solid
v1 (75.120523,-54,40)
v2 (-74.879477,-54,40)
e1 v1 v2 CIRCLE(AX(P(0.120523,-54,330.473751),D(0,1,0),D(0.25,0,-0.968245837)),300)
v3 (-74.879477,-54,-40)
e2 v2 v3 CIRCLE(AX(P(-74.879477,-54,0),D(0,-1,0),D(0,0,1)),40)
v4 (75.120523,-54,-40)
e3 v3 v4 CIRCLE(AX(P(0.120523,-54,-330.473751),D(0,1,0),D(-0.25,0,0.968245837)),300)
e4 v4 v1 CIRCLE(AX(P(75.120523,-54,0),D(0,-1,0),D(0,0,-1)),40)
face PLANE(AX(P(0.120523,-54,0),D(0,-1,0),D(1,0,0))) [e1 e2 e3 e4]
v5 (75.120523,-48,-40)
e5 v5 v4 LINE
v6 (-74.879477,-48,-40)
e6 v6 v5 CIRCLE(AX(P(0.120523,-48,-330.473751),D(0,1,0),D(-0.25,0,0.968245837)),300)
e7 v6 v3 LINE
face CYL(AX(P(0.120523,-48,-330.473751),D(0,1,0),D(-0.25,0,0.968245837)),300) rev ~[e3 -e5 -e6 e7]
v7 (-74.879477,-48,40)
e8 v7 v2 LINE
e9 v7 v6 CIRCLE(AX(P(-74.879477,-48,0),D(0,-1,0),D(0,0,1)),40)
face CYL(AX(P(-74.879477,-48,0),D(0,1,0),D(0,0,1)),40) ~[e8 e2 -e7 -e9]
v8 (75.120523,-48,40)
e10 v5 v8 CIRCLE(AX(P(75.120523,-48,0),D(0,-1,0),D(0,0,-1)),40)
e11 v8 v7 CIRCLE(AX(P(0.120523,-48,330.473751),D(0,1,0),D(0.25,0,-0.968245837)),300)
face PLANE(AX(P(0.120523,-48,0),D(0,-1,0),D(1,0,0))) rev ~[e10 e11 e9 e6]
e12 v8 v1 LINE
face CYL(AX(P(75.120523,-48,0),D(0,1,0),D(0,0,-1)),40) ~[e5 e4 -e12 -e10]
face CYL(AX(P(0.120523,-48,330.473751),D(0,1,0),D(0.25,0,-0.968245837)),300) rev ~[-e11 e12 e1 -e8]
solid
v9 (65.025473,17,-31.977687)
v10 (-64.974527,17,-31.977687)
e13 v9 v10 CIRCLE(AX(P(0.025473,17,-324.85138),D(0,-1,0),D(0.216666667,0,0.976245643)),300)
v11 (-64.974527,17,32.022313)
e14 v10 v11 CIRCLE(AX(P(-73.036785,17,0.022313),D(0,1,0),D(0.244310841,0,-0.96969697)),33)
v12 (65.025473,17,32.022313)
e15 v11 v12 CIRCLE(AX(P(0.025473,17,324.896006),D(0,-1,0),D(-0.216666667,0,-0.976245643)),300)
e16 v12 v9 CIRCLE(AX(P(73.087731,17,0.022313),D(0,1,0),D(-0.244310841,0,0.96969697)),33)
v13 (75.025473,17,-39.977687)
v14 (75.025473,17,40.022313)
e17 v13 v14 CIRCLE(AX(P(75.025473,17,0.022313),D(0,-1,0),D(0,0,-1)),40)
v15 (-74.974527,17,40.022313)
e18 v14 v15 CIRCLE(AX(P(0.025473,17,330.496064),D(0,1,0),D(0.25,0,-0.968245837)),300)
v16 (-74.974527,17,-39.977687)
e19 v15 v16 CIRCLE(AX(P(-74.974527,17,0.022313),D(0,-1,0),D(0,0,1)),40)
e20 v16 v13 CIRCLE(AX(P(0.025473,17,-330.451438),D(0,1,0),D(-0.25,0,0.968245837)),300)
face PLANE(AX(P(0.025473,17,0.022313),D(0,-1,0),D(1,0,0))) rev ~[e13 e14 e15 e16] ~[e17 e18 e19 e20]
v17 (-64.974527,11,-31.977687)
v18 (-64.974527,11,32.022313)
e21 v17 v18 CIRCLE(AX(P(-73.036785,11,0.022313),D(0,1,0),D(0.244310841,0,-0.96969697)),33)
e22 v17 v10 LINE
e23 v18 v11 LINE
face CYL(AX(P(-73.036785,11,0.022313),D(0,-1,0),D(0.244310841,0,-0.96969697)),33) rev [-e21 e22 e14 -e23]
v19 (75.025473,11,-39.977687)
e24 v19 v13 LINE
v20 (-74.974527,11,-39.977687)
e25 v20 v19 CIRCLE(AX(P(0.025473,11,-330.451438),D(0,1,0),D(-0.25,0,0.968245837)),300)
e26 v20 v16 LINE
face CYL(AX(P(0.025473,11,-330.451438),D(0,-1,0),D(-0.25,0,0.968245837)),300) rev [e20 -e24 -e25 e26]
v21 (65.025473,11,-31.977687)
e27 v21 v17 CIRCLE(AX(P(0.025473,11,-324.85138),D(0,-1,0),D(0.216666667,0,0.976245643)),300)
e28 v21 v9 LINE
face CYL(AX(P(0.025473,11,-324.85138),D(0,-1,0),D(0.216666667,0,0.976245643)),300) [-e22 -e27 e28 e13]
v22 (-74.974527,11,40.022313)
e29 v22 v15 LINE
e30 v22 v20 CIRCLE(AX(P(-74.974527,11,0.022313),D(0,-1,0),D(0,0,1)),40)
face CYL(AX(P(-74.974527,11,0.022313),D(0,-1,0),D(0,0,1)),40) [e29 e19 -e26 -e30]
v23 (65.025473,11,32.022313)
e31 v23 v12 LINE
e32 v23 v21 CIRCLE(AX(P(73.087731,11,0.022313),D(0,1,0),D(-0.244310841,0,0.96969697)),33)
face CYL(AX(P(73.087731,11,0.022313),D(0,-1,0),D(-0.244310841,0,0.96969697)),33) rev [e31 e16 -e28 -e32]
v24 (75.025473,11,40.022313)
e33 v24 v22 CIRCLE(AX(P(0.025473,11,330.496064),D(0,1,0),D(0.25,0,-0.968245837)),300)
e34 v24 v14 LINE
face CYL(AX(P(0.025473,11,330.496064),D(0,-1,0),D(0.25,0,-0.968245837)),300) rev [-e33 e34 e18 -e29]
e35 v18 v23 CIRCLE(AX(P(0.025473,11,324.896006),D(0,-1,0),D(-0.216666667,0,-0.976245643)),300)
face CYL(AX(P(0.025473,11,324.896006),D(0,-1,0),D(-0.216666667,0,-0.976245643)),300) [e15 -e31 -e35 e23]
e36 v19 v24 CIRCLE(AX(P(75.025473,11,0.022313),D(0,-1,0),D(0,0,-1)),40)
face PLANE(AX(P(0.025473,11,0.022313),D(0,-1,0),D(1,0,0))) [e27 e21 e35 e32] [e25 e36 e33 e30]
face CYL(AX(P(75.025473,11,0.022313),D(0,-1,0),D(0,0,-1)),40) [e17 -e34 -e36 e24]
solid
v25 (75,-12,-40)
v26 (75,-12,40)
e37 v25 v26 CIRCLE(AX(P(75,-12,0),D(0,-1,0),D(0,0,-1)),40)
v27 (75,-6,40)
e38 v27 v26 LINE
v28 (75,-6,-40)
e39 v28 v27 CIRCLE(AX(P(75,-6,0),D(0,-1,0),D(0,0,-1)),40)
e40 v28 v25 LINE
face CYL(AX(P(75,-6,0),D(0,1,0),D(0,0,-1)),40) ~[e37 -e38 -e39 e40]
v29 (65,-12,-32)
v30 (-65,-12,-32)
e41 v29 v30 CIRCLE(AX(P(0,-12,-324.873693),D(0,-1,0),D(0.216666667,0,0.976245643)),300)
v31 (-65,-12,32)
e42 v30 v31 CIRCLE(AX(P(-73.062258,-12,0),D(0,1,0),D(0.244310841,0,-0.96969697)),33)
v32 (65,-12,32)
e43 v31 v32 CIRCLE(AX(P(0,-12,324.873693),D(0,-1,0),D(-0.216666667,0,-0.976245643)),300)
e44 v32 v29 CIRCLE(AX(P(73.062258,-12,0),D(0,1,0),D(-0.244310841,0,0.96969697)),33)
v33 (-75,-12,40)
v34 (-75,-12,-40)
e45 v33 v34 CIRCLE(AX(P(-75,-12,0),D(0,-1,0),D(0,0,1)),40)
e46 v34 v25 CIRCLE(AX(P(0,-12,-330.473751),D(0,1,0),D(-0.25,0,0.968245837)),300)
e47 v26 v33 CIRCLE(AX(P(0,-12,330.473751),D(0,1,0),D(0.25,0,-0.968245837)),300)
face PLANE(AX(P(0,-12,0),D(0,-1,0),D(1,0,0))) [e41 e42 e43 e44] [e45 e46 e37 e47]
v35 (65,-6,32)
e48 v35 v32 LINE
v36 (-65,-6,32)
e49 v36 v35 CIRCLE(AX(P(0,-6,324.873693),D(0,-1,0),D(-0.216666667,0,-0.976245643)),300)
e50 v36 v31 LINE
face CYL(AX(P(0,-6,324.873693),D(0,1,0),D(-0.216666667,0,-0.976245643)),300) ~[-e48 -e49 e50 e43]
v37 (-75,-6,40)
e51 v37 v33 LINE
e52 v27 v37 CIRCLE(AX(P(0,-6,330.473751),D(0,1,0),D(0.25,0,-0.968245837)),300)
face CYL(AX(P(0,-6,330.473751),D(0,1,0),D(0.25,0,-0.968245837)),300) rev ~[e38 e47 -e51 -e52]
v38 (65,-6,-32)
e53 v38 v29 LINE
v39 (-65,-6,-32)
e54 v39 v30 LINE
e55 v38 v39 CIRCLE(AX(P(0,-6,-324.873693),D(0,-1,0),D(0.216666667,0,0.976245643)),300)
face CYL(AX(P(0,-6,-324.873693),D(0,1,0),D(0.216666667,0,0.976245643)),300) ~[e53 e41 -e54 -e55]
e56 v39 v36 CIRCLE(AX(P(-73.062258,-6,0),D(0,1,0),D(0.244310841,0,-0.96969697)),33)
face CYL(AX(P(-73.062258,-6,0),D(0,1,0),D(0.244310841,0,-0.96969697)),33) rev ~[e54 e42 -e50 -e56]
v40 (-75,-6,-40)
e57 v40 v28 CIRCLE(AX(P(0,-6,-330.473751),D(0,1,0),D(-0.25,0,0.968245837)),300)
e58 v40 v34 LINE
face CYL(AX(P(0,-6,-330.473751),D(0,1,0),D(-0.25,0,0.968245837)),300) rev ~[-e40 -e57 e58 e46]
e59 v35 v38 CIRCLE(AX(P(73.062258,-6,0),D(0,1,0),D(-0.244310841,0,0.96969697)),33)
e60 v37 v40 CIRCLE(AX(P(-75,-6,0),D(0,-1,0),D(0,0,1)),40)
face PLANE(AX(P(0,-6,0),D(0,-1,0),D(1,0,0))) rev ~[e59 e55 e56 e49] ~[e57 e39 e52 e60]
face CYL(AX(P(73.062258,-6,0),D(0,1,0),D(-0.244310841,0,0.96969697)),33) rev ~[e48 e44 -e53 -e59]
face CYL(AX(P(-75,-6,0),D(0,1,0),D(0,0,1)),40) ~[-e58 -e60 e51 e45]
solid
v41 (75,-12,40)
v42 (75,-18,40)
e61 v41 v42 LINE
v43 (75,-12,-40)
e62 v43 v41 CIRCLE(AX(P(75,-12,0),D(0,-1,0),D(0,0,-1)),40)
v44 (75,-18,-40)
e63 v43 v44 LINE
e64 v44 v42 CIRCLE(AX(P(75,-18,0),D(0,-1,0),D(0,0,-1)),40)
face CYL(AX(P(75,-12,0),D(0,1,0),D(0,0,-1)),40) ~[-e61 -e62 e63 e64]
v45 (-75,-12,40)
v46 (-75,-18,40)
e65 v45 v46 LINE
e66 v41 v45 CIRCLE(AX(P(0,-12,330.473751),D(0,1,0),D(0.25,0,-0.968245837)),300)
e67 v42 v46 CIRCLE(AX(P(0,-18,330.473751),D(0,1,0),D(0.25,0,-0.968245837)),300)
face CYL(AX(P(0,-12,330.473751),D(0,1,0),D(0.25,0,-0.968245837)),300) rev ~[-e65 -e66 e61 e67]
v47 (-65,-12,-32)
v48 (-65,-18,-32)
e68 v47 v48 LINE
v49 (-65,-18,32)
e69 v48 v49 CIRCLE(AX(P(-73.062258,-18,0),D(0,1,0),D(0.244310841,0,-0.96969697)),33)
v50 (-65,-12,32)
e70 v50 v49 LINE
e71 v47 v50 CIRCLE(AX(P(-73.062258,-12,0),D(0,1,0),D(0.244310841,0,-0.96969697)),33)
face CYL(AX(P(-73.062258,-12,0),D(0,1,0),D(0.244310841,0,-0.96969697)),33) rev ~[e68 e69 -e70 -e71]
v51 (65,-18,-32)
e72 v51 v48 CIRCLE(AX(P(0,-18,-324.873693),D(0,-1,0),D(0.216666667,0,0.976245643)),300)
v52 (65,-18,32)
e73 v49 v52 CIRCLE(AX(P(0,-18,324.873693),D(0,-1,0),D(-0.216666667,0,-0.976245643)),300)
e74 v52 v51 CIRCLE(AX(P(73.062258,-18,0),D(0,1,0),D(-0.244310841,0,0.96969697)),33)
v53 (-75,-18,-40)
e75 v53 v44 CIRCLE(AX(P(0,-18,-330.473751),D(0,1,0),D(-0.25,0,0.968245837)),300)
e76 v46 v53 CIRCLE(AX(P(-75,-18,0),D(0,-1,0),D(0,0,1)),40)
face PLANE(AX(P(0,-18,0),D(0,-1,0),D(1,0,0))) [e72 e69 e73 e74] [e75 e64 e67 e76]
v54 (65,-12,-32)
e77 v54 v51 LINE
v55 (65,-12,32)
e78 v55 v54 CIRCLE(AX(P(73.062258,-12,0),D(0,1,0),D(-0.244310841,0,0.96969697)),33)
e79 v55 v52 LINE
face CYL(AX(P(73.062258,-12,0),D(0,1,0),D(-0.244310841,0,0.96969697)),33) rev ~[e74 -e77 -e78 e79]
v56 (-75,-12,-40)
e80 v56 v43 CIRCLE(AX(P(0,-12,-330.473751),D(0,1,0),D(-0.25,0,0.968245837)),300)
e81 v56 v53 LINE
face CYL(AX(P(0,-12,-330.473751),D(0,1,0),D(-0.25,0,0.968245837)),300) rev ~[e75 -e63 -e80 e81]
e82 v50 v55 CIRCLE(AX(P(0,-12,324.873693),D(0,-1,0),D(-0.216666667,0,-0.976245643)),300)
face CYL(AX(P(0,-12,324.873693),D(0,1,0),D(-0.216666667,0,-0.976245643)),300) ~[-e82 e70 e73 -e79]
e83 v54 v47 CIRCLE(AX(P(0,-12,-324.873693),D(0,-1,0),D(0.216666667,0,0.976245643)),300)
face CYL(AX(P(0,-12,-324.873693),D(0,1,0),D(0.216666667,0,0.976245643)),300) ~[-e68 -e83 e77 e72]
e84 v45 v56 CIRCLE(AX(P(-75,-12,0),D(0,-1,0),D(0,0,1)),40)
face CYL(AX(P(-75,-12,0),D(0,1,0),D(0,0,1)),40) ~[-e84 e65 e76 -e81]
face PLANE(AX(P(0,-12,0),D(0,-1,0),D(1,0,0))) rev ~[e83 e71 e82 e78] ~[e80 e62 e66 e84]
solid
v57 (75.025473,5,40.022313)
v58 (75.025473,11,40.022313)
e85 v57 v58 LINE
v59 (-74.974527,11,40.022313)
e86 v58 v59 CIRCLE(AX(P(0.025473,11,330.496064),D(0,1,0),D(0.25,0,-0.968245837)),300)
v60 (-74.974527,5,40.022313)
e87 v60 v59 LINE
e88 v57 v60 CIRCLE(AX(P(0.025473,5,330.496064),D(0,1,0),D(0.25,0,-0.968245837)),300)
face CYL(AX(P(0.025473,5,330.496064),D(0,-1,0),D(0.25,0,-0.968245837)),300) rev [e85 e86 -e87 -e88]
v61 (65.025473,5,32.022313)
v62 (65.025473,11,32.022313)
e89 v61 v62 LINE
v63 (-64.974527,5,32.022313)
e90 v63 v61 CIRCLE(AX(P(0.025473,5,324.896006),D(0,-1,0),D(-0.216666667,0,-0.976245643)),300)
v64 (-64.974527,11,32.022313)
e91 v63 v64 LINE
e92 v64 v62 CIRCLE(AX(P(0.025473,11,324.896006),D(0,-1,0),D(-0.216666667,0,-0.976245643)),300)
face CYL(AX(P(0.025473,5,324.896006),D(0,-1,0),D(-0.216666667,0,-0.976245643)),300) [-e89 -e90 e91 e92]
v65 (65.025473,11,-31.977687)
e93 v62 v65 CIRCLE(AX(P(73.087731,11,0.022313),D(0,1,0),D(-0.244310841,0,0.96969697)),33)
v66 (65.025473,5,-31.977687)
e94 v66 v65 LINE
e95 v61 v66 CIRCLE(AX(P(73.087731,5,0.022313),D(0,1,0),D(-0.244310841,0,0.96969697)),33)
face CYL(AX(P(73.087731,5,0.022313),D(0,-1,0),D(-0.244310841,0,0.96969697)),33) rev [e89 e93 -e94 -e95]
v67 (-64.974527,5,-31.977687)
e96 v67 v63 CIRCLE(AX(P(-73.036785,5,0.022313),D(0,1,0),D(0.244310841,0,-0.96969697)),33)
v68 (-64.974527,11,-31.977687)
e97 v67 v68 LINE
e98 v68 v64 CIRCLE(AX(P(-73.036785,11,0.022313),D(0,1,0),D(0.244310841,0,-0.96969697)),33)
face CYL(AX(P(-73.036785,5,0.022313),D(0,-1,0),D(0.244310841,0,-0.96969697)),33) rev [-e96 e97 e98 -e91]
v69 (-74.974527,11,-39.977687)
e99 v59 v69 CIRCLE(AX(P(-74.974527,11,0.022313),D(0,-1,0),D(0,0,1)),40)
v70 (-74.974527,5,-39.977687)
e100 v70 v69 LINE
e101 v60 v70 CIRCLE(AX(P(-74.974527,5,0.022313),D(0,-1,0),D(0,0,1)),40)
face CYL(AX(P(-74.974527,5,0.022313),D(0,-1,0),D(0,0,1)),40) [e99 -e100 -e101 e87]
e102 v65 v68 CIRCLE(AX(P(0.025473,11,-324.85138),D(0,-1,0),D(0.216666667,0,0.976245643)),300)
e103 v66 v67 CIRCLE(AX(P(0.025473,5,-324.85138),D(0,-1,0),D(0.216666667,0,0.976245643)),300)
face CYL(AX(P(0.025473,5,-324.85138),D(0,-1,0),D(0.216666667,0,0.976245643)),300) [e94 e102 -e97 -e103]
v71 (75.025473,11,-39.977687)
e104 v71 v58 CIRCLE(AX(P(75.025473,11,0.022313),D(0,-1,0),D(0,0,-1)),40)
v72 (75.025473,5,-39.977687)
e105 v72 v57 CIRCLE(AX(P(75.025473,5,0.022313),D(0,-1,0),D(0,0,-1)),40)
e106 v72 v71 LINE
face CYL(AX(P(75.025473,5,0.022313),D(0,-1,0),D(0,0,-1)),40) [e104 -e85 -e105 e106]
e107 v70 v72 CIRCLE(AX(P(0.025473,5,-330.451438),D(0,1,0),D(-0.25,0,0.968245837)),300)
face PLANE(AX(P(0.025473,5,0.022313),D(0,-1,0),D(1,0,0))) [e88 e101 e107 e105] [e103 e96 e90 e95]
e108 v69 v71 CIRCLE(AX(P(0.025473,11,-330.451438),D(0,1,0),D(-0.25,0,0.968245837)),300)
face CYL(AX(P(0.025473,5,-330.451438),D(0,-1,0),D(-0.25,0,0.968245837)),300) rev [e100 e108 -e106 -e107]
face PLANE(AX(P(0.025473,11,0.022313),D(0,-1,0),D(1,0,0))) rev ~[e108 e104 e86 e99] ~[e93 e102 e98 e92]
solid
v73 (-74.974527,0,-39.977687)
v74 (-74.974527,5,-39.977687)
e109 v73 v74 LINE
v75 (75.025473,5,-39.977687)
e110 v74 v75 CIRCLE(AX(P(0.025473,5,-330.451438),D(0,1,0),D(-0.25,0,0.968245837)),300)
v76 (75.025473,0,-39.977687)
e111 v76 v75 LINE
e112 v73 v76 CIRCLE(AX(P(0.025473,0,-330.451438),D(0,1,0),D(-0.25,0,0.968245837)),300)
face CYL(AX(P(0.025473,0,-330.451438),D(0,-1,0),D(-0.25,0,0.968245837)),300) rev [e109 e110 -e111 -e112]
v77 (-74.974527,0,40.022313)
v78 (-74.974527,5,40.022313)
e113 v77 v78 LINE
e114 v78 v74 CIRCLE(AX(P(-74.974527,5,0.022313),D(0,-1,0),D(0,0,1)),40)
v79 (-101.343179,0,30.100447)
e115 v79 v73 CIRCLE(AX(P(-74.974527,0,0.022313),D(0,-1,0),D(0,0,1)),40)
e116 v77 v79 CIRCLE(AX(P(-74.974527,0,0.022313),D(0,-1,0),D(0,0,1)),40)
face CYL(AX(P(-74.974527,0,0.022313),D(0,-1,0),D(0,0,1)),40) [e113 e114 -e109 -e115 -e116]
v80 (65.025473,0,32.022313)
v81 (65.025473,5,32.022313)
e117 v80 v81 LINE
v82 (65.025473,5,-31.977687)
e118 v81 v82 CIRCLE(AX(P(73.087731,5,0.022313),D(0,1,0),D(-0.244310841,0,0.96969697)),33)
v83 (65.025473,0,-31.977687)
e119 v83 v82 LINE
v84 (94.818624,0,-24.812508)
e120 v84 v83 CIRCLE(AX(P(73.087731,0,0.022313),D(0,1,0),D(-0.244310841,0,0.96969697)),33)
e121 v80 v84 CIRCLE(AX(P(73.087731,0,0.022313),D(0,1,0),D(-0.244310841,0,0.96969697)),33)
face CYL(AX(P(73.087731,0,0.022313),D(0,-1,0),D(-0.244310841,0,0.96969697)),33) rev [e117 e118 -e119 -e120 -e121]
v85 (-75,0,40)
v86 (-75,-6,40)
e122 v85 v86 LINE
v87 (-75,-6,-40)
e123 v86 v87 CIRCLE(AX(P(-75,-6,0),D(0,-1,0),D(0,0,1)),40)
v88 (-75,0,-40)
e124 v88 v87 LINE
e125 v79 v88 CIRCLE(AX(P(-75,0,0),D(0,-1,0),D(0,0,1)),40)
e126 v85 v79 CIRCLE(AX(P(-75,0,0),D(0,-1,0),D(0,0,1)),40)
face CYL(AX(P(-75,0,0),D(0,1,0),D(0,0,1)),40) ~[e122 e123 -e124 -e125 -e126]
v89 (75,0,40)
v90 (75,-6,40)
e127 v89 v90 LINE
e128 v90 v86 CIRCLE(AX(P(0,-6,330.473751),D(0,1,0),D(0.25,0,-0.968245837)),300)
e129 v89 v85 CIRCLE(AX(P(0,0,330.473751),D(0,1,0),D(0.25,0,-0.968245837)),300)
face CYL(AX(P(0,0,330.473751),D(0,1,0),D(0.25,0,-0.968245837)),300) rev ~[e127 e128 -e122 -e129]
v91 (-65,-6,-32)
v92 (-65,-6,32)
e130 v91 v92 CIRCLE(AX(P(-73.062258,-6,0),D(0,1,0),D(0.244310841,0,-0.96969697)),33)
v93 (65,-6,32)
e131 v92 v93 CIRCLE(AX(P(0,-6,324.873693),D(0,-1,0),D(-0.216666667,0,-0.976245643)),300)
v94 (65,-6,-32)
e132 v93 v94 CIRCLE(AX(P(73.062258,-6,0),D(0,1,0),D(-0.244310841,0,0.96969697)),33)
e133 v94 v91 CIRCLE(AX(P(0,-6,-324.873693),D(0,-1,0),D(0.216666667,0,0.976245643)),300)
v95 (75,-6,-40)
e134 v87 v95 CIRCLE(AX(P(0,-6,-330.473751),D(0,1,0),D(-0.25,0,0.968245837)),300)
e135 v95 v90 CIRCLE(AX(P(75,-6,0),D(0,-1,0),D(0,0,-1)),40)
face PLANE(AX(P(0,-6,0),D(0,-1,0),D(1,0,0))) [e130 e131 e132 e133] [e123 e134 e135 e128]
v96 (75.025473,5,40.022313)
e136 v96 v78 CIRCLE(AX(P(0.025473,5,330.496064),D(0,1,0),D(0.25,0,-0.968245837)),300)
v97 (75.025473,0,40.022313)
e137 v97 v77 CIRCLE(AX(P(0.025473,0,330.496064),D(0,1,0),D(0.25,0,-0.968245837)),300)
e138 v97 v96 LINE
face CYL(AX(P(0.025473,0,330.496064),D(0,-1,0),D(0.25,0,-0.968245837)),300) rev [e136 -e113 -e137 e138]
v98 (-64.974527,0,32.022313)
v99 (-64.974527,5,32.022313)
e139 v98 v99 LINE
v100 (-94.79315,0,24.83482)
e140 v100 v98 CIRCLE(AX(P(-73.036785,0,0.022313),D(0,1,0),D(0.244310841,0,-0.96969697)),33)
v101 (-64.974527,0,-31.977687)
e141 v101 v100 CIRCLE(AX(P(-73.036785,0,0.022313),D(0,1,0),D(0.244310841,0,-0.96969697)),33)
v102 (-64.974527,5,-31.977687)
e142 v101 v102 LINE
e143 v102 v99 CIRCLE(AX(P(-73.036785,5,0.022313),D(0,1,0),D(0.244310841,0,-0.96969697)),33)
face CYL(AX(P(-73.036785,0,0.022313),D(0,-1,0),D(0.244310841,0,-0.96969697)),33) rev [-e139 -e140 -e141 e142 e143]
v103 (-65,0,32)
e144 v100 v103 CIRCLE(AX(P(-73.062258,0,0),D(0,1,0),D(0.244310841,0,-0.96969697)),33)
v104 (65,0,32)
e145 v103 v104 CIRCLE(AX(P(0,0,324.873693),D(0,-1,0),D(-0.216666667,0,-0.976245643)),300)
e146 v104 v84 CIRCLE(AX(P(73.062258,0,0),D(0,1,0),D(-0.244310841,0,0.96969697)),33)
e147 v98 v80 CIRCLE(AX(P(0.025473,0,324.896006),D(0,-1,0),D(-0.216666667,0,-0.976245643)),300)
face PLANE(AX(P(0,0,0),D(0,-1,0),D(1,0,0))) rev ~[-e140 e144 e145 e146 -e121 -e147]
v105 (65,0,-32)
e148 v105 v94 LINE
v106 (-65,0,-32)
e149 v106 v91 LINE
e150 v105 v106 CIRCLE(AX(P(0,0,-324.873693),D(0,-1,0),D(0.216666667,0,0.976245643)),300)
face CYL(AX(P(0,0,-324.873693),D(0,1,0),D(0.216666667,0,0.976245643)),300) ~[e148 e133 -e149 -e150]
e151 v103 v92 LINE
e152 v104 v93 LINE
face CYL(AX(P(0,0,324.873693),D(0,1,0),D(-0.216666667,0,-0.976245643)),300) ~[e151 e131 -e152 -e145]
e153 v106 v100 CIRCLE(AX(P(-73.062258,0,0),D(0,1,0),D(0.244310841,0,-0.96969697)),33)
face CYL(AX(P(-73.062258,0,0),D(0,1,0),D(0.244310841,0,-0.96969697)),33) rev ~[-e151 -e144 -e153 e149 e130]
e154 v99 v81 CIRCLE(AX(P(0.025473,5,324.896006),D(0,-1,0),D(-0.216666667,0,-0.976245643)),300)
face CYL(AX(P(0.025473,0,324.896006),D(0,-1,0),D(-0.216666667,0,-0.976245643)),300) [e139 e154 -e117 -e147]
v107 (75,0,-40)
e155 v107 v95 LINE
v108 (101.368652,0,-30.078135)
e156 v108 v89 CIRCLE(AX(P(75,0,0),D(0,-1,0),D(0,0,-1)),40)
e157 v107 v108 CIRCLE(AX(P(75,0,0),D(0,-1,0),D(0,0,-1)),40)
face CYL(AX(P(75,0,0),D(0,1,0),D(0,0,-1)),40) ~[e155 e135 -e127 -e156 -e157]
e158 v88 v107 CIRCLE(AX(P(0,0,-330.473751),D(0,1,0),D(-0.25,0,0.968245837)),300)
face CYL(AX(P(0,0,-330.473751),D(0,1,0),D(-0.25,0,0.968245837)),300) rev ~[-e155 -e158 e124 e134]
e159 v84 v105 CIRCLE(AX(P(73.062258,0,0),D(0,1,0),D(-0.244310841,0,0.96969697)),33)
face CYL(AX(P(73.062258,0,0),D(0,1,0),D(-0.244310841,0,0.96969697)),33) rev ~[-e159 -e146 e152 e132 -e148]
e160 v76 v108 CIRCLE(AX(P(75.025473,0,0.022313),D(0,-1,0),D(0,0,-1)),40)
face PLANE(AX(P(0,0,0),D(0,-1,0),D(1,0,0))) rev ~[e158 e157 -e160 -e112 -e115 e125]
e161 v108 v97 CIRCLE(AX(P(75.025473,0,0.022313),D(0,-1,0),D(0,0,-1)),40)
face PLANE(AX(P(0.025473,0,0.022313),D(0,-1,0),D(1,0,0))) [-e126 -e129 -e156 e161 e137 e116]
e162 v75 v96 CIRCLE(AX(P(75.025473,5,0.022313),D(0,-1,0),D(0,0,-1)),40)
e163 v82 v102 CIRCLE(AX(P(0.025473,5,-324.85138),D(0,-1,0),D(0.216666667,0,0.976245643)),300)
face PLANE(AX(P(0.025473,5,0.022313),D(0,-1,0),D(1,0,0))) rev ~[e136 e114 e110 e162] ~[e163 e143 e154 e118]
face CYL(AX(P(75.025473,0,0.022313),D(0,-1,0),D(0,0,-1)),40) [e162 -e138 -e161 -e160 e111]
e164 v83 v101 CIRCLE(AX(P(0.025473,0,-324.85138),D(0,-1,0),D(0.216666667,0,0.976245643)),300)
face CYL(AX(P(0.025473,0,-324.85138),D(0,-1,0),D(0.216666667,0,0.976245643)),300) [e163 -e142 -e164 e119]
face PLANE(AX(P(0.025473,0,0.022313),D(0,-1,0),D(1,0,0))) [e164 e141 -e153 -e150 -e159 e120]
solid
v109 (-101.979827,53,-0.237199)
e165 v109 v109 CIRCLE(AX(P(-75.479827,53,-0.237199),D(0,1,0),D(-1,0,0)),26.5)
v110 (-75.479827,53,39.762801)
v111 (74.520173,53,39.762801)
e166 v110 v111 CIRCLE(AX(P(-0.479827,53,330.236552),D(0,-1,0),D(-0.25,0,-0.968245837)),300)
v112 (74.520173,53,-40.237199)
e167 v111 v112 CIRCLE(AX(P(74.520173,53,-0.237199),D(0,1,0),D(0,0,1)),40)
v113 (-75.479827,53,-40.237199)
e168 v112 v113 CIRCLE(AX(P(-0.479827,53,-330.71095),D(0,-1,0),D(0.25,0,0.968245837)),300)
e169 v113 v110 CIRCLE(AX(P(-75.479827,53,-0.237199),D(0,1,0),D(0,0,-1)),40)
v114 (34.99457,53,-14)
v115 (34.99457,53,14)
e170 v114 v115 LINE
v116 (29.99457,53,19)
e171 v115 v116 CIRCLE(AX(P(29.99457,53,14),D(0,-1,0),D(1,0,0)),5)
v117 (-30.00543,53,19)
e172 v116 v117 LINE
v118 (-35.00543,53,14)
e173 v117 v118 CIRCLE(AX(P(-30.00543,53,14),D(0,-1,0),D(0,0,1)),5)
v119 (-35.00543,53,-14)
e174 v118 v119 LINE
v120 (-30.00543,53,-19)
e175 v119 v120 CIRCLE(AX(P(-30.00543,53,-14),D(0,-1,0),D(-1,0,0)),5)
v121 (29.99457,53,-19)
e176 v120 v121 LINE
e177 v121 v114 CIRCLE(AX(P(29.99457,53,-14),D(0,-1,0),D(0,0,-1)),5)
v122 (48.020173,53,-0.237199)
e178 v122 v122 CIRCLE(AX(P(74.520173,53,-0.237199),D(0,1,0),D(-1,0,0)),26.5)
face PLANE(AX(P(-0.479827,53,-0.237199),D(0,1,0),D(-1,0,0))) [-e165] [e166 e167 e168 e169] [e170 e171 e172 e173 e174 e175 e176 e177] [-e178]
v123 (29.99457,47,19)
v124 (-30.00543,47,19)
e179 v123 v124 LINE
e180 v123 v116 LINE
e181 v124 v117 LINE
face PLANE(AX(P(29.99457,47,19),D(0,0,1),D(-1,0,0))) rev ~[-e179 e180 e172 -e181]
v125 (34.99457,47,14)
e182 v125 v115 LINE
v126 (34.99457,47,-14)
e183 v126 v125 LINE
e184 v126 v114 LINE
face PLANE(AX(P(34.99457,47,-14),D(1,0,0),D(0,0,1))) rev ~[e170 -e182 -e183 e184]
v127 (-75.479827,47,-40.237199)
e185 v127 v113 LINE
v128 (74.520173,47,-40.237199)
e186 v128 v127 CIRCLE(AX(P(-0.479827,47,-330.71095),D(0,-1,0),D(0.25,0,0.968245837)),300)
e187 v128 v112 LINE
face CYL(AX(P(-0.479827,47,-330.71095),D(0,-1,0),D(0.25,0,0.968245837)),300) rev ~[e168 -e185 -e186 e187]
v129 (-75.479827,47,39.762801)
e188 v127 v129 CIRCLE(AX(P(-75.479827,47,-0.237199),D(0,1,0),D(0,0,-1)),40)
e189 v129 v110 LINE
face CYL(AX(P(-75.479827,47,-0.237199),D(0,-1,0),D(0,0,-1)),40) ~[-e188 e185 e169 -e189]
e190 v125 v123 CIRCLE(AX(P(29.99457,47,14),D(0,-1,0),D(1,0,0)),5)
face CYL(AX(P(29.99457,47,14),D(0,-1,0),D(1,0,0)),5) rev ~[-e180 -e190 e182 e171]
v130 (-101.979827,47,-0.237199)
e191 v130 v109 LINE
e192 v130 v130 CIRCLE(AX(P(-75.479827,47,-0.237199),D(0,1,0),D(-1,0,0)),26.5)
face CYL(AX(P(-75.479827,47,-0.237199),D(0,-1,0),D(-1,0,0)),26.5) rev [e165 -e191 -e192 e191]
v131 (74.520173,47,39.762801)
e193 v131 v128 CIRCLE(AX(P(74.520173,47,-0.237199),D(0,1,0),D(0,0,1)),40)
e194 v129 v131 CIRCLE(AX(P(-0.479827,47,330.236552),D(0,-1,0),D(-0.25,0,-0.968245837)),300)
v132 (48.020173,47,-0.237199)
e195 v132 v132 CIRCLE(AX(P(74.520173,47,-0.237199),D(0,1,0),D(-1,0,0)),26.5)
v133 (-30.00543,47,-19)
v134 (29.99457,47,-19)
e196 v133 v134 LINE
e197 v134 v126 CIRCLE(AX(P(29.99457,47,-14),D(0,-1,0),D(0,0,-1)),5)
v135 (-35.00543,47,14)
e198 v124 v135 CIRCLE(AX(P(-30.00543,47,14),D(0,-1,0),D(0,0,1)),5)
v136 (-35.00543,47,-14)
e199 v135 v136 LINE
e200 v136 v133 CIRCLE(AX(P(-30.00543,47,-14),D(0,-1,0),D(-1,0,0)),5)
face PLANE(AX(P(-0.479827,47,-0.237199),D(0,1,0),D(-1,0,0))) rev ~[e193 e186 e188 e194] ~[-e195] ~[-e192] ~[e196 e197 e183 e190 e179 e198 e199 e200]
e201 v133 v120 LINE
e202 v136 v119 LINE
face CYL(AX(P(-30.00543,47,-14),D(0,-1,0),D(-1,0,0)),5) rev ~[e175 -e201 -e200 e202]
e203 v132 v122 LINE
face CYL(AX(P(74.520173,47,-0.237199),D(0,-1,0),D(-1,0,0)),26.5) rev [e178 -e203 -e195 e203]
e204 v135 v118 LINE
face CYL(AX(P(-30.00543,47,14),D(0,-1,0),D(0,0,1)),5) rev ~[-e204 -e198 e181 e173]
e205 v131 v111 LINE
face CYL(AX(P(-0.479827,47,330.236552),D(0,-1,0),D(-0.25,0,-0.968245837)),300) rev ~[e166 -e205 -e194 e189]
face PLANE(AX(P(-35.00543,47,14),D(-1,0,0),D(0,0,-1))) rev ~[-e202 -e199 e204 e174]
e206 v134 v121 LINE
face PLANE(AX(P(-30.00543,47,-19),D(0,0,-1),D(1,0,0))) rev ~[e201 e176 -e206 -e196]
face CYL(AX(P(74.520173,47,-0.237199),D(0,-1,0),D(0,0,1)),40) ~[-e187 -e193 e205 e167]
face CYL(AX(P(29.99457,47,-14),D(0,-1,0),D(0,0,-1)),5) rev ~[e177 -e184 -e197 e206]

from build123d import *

# Parameters (mm, degrees)
F1_DEPTH  = 6
F3_DEPTH  = 5
F4_DEPTH  = 6
F5_DEPTH  = 6
F6_DEPTH  = 6
F7_DEPTH  = 6
F10_DEPTH = 6
F12_R     = 26.5
F13_DEPTH = 6


with BuildPart() as f1:
    # F0 (on Front) → F1 (new body)
    with BuildSketch(Plane.XZ):
        with BuildLine():
            ThreePointArc((-75, -40), (0, -30.4737509656), (75, -40))
            ThreePointArc((75, -40), (115, 0), (75, 40))
            ThreePointArc((75, 40), (0, 30.4737509656), (-75, 40))
            ThreePointArc((-75, 40), (-115, 0), (-75, -40))
        make_face()
        with BuildLine():
            ThreePointArc((-65, -32), (-106.0622577483, 0), (-65, 32))
            ThreePointArc((-65, 32), (0, 24.8736929121), (65, 32))
            ThreePointArc((65, 32), (106.0622577483, 0), (65, -32))
            ThreePointArc((65, -32), (0, -24.8736929121), (-65, -32))
        make_face(mode=Mode.SUBTRACT)
    extrude(amount=F1_DEPTH)

    # F2 (on Front) → F3 (join)
    with BuildSketch(Plane.XZ):
        with BuildLine():
            ThreePointArc((-74.9745267705, -39.977687401), (0.0254732295, -30.4514383666), (75.0254732295, -39.977687401))
            ThreePointArc((75.0254732295, -39.977687401), (115.0254732295, 0.022312599), (75.0254732295, 40.022312599))
            ThreePointArc((75.0254732295, 40.022312599), (0.0254732295, 30.4960635645), (-74.9745267705, 40.022312599))
            ThreePointArc((-74.9745267705, 40.022312599), (-114.9745267705, 0.022312599), (-74.9745267705, -39.977687401))
        make_face()
        with BuildLine():
            ThreePointArc((-64.9745267705, -31.977687401), (-106.0367845188, 0.022312599), (-64.9745267705, 32.022312599))
            ThreePointArc((-64.9745267705, 32.022312599), (0.0254732295, 24.8960055111), (65.0254732295, 32.022312599))
            ThreePointArc((65.0254732295, 32.022312599), (106.0877309778, 0.022312599), (65.0254732295, -31.977687401))
            ThreePointArc((65.0254732295, -31.977687401), (0.0254732295, -24.8513803132), (-64.9745267705, -31.977687401))
        make_face(mode=Mode.SUBTRACT)
    extrude(amount=-F3_DEPTH)


with BuildPart() as f4:
    # F4 (new): a face of the model
    f4_faces = [f1.part.faces().sort_by_distance(p)[0] for p in [
        (112.5648408676, -6, 0),
    ]]
    extrude(f4_faces, amount=F4_DEPTH)


with BuildPart() as f5:
    # F5 (new): a face of the model
    f5_faces = [f1.part.faces().sort_by_distance(p)[0] for p in [
        (0.0254732295, 5, -28.0162792342),
    ]]
    extrude(f5_faces, amount=F5_DEPTH)


with BuildPart() as f6:
    # F6 (new): a face of the model
    f6_faces = [f5.part.faces().sort_by_distance(p)[0] for p in [
        (0.0254732295, 11, -28.0162792342),
    ]]
    extrude(f6_faces, amount=F6_DEPTH)


with BuildPart() as f7:
    # F7 (new): a face of the model
    f7_faces = [f4.part.faces().sort_by_distance(p)[0] for p in [
        (112.5648408676, -12, 0),
    ]]
    extrude(f7_faces, amount=F7_DEPTH)


with BuildPart() as f10:
    # F9 (on offset) → F10 (new body)
    with BuildSketch(Plane.XZ.offset(48)):
        with BuildLine():
            ThreePointArc((-74.8794772328, -40), (0.1205227672, -30.4737509656), (75.1205227672, -40))
            ThreePointArc((75.1205227672, -40), (115.1205227672, 0), (75.1205227672, 40))
            ThreePointArc((75.1205227672, 40), (0.1205227672, 30.4737509656), (-74.8794772328, 40))
            ThreePointArc((-74.8794772328, 40), (-114.8794772328, 0), (-74.8794772328, -40))
        make_face()
    extrude(amount=F10_DEPTH)


with BuildPart() as f13:
    # F12 (on offset) → F13 (new body)
    with BuildSketch(Plane(origin=(0, 47, 0), x_dir=(-1, 0, 0), z_dir=(0, 1, 0))):
        with BuildLine():
            ThreePointArc((-74.5201730926, -40.2371987939), (0.4798269074, -30.7109497595), (75.4798269074, -40.2371987939))
            ThreePointArc((75.4798269074, -40.2371987939), (115.4798269074, -0.2371987939), (75.4798269074, 39.7628012061))
            ThreePointArc((75.4798269074, 39.7628012061), (0.4798269074, 30.2365521716), (-74.5201730926, 39.7628012061))
            ThreePointArc((-74.5201730926, 39.7628012061), (-114.5201730926, -0.2371987939), (-74.5201730926, -40.2371987939))
        make_face()
        with Locations((-74.5201730926, -0.2371987939)):
            Circle(F12_R, mode=Mode.SUBTRACT)
        with BuildLine():
            Line((-29.9945702561, 19), (30.0054297439, 19))
            ThreePointArc((30.0054297439, 19), (33.5409636498, 17.5355339059), (35.0054297439, 14))
            Line((35.0054297439, 14), (35.0054297439, -14))
            ThreePointArc((35.0054297439, -14), (33.5409636498, -17.5355339059), (30.0054297439, -19))
            Line((30.0054297439, -19), (-29.9945702561, -19))
            ThreePointArc((-29.9945702561, -19), (-33.5301041621, -17.5355339059), (-34.9945702561, -14))
            Line((-34.9945702561, -14), (-34.9945702561, 14))
            ThreePointArc((-34.9945702561, 14), (-33.5301041621, 17.5355339059), (-29.9945702561, 19))
        make_face(mode=Mode.SUBTRACT)
        with Locations((75.4798269074, -0.2371987939)):
            Circle(F12_R, mode=Mode.SUBTRACT)
    extrude(amount=F13_DEPTH)


solid = Compound([f1.part, f4.part, f5.part, f6.part, f7.part, f10.part, f13.part])
